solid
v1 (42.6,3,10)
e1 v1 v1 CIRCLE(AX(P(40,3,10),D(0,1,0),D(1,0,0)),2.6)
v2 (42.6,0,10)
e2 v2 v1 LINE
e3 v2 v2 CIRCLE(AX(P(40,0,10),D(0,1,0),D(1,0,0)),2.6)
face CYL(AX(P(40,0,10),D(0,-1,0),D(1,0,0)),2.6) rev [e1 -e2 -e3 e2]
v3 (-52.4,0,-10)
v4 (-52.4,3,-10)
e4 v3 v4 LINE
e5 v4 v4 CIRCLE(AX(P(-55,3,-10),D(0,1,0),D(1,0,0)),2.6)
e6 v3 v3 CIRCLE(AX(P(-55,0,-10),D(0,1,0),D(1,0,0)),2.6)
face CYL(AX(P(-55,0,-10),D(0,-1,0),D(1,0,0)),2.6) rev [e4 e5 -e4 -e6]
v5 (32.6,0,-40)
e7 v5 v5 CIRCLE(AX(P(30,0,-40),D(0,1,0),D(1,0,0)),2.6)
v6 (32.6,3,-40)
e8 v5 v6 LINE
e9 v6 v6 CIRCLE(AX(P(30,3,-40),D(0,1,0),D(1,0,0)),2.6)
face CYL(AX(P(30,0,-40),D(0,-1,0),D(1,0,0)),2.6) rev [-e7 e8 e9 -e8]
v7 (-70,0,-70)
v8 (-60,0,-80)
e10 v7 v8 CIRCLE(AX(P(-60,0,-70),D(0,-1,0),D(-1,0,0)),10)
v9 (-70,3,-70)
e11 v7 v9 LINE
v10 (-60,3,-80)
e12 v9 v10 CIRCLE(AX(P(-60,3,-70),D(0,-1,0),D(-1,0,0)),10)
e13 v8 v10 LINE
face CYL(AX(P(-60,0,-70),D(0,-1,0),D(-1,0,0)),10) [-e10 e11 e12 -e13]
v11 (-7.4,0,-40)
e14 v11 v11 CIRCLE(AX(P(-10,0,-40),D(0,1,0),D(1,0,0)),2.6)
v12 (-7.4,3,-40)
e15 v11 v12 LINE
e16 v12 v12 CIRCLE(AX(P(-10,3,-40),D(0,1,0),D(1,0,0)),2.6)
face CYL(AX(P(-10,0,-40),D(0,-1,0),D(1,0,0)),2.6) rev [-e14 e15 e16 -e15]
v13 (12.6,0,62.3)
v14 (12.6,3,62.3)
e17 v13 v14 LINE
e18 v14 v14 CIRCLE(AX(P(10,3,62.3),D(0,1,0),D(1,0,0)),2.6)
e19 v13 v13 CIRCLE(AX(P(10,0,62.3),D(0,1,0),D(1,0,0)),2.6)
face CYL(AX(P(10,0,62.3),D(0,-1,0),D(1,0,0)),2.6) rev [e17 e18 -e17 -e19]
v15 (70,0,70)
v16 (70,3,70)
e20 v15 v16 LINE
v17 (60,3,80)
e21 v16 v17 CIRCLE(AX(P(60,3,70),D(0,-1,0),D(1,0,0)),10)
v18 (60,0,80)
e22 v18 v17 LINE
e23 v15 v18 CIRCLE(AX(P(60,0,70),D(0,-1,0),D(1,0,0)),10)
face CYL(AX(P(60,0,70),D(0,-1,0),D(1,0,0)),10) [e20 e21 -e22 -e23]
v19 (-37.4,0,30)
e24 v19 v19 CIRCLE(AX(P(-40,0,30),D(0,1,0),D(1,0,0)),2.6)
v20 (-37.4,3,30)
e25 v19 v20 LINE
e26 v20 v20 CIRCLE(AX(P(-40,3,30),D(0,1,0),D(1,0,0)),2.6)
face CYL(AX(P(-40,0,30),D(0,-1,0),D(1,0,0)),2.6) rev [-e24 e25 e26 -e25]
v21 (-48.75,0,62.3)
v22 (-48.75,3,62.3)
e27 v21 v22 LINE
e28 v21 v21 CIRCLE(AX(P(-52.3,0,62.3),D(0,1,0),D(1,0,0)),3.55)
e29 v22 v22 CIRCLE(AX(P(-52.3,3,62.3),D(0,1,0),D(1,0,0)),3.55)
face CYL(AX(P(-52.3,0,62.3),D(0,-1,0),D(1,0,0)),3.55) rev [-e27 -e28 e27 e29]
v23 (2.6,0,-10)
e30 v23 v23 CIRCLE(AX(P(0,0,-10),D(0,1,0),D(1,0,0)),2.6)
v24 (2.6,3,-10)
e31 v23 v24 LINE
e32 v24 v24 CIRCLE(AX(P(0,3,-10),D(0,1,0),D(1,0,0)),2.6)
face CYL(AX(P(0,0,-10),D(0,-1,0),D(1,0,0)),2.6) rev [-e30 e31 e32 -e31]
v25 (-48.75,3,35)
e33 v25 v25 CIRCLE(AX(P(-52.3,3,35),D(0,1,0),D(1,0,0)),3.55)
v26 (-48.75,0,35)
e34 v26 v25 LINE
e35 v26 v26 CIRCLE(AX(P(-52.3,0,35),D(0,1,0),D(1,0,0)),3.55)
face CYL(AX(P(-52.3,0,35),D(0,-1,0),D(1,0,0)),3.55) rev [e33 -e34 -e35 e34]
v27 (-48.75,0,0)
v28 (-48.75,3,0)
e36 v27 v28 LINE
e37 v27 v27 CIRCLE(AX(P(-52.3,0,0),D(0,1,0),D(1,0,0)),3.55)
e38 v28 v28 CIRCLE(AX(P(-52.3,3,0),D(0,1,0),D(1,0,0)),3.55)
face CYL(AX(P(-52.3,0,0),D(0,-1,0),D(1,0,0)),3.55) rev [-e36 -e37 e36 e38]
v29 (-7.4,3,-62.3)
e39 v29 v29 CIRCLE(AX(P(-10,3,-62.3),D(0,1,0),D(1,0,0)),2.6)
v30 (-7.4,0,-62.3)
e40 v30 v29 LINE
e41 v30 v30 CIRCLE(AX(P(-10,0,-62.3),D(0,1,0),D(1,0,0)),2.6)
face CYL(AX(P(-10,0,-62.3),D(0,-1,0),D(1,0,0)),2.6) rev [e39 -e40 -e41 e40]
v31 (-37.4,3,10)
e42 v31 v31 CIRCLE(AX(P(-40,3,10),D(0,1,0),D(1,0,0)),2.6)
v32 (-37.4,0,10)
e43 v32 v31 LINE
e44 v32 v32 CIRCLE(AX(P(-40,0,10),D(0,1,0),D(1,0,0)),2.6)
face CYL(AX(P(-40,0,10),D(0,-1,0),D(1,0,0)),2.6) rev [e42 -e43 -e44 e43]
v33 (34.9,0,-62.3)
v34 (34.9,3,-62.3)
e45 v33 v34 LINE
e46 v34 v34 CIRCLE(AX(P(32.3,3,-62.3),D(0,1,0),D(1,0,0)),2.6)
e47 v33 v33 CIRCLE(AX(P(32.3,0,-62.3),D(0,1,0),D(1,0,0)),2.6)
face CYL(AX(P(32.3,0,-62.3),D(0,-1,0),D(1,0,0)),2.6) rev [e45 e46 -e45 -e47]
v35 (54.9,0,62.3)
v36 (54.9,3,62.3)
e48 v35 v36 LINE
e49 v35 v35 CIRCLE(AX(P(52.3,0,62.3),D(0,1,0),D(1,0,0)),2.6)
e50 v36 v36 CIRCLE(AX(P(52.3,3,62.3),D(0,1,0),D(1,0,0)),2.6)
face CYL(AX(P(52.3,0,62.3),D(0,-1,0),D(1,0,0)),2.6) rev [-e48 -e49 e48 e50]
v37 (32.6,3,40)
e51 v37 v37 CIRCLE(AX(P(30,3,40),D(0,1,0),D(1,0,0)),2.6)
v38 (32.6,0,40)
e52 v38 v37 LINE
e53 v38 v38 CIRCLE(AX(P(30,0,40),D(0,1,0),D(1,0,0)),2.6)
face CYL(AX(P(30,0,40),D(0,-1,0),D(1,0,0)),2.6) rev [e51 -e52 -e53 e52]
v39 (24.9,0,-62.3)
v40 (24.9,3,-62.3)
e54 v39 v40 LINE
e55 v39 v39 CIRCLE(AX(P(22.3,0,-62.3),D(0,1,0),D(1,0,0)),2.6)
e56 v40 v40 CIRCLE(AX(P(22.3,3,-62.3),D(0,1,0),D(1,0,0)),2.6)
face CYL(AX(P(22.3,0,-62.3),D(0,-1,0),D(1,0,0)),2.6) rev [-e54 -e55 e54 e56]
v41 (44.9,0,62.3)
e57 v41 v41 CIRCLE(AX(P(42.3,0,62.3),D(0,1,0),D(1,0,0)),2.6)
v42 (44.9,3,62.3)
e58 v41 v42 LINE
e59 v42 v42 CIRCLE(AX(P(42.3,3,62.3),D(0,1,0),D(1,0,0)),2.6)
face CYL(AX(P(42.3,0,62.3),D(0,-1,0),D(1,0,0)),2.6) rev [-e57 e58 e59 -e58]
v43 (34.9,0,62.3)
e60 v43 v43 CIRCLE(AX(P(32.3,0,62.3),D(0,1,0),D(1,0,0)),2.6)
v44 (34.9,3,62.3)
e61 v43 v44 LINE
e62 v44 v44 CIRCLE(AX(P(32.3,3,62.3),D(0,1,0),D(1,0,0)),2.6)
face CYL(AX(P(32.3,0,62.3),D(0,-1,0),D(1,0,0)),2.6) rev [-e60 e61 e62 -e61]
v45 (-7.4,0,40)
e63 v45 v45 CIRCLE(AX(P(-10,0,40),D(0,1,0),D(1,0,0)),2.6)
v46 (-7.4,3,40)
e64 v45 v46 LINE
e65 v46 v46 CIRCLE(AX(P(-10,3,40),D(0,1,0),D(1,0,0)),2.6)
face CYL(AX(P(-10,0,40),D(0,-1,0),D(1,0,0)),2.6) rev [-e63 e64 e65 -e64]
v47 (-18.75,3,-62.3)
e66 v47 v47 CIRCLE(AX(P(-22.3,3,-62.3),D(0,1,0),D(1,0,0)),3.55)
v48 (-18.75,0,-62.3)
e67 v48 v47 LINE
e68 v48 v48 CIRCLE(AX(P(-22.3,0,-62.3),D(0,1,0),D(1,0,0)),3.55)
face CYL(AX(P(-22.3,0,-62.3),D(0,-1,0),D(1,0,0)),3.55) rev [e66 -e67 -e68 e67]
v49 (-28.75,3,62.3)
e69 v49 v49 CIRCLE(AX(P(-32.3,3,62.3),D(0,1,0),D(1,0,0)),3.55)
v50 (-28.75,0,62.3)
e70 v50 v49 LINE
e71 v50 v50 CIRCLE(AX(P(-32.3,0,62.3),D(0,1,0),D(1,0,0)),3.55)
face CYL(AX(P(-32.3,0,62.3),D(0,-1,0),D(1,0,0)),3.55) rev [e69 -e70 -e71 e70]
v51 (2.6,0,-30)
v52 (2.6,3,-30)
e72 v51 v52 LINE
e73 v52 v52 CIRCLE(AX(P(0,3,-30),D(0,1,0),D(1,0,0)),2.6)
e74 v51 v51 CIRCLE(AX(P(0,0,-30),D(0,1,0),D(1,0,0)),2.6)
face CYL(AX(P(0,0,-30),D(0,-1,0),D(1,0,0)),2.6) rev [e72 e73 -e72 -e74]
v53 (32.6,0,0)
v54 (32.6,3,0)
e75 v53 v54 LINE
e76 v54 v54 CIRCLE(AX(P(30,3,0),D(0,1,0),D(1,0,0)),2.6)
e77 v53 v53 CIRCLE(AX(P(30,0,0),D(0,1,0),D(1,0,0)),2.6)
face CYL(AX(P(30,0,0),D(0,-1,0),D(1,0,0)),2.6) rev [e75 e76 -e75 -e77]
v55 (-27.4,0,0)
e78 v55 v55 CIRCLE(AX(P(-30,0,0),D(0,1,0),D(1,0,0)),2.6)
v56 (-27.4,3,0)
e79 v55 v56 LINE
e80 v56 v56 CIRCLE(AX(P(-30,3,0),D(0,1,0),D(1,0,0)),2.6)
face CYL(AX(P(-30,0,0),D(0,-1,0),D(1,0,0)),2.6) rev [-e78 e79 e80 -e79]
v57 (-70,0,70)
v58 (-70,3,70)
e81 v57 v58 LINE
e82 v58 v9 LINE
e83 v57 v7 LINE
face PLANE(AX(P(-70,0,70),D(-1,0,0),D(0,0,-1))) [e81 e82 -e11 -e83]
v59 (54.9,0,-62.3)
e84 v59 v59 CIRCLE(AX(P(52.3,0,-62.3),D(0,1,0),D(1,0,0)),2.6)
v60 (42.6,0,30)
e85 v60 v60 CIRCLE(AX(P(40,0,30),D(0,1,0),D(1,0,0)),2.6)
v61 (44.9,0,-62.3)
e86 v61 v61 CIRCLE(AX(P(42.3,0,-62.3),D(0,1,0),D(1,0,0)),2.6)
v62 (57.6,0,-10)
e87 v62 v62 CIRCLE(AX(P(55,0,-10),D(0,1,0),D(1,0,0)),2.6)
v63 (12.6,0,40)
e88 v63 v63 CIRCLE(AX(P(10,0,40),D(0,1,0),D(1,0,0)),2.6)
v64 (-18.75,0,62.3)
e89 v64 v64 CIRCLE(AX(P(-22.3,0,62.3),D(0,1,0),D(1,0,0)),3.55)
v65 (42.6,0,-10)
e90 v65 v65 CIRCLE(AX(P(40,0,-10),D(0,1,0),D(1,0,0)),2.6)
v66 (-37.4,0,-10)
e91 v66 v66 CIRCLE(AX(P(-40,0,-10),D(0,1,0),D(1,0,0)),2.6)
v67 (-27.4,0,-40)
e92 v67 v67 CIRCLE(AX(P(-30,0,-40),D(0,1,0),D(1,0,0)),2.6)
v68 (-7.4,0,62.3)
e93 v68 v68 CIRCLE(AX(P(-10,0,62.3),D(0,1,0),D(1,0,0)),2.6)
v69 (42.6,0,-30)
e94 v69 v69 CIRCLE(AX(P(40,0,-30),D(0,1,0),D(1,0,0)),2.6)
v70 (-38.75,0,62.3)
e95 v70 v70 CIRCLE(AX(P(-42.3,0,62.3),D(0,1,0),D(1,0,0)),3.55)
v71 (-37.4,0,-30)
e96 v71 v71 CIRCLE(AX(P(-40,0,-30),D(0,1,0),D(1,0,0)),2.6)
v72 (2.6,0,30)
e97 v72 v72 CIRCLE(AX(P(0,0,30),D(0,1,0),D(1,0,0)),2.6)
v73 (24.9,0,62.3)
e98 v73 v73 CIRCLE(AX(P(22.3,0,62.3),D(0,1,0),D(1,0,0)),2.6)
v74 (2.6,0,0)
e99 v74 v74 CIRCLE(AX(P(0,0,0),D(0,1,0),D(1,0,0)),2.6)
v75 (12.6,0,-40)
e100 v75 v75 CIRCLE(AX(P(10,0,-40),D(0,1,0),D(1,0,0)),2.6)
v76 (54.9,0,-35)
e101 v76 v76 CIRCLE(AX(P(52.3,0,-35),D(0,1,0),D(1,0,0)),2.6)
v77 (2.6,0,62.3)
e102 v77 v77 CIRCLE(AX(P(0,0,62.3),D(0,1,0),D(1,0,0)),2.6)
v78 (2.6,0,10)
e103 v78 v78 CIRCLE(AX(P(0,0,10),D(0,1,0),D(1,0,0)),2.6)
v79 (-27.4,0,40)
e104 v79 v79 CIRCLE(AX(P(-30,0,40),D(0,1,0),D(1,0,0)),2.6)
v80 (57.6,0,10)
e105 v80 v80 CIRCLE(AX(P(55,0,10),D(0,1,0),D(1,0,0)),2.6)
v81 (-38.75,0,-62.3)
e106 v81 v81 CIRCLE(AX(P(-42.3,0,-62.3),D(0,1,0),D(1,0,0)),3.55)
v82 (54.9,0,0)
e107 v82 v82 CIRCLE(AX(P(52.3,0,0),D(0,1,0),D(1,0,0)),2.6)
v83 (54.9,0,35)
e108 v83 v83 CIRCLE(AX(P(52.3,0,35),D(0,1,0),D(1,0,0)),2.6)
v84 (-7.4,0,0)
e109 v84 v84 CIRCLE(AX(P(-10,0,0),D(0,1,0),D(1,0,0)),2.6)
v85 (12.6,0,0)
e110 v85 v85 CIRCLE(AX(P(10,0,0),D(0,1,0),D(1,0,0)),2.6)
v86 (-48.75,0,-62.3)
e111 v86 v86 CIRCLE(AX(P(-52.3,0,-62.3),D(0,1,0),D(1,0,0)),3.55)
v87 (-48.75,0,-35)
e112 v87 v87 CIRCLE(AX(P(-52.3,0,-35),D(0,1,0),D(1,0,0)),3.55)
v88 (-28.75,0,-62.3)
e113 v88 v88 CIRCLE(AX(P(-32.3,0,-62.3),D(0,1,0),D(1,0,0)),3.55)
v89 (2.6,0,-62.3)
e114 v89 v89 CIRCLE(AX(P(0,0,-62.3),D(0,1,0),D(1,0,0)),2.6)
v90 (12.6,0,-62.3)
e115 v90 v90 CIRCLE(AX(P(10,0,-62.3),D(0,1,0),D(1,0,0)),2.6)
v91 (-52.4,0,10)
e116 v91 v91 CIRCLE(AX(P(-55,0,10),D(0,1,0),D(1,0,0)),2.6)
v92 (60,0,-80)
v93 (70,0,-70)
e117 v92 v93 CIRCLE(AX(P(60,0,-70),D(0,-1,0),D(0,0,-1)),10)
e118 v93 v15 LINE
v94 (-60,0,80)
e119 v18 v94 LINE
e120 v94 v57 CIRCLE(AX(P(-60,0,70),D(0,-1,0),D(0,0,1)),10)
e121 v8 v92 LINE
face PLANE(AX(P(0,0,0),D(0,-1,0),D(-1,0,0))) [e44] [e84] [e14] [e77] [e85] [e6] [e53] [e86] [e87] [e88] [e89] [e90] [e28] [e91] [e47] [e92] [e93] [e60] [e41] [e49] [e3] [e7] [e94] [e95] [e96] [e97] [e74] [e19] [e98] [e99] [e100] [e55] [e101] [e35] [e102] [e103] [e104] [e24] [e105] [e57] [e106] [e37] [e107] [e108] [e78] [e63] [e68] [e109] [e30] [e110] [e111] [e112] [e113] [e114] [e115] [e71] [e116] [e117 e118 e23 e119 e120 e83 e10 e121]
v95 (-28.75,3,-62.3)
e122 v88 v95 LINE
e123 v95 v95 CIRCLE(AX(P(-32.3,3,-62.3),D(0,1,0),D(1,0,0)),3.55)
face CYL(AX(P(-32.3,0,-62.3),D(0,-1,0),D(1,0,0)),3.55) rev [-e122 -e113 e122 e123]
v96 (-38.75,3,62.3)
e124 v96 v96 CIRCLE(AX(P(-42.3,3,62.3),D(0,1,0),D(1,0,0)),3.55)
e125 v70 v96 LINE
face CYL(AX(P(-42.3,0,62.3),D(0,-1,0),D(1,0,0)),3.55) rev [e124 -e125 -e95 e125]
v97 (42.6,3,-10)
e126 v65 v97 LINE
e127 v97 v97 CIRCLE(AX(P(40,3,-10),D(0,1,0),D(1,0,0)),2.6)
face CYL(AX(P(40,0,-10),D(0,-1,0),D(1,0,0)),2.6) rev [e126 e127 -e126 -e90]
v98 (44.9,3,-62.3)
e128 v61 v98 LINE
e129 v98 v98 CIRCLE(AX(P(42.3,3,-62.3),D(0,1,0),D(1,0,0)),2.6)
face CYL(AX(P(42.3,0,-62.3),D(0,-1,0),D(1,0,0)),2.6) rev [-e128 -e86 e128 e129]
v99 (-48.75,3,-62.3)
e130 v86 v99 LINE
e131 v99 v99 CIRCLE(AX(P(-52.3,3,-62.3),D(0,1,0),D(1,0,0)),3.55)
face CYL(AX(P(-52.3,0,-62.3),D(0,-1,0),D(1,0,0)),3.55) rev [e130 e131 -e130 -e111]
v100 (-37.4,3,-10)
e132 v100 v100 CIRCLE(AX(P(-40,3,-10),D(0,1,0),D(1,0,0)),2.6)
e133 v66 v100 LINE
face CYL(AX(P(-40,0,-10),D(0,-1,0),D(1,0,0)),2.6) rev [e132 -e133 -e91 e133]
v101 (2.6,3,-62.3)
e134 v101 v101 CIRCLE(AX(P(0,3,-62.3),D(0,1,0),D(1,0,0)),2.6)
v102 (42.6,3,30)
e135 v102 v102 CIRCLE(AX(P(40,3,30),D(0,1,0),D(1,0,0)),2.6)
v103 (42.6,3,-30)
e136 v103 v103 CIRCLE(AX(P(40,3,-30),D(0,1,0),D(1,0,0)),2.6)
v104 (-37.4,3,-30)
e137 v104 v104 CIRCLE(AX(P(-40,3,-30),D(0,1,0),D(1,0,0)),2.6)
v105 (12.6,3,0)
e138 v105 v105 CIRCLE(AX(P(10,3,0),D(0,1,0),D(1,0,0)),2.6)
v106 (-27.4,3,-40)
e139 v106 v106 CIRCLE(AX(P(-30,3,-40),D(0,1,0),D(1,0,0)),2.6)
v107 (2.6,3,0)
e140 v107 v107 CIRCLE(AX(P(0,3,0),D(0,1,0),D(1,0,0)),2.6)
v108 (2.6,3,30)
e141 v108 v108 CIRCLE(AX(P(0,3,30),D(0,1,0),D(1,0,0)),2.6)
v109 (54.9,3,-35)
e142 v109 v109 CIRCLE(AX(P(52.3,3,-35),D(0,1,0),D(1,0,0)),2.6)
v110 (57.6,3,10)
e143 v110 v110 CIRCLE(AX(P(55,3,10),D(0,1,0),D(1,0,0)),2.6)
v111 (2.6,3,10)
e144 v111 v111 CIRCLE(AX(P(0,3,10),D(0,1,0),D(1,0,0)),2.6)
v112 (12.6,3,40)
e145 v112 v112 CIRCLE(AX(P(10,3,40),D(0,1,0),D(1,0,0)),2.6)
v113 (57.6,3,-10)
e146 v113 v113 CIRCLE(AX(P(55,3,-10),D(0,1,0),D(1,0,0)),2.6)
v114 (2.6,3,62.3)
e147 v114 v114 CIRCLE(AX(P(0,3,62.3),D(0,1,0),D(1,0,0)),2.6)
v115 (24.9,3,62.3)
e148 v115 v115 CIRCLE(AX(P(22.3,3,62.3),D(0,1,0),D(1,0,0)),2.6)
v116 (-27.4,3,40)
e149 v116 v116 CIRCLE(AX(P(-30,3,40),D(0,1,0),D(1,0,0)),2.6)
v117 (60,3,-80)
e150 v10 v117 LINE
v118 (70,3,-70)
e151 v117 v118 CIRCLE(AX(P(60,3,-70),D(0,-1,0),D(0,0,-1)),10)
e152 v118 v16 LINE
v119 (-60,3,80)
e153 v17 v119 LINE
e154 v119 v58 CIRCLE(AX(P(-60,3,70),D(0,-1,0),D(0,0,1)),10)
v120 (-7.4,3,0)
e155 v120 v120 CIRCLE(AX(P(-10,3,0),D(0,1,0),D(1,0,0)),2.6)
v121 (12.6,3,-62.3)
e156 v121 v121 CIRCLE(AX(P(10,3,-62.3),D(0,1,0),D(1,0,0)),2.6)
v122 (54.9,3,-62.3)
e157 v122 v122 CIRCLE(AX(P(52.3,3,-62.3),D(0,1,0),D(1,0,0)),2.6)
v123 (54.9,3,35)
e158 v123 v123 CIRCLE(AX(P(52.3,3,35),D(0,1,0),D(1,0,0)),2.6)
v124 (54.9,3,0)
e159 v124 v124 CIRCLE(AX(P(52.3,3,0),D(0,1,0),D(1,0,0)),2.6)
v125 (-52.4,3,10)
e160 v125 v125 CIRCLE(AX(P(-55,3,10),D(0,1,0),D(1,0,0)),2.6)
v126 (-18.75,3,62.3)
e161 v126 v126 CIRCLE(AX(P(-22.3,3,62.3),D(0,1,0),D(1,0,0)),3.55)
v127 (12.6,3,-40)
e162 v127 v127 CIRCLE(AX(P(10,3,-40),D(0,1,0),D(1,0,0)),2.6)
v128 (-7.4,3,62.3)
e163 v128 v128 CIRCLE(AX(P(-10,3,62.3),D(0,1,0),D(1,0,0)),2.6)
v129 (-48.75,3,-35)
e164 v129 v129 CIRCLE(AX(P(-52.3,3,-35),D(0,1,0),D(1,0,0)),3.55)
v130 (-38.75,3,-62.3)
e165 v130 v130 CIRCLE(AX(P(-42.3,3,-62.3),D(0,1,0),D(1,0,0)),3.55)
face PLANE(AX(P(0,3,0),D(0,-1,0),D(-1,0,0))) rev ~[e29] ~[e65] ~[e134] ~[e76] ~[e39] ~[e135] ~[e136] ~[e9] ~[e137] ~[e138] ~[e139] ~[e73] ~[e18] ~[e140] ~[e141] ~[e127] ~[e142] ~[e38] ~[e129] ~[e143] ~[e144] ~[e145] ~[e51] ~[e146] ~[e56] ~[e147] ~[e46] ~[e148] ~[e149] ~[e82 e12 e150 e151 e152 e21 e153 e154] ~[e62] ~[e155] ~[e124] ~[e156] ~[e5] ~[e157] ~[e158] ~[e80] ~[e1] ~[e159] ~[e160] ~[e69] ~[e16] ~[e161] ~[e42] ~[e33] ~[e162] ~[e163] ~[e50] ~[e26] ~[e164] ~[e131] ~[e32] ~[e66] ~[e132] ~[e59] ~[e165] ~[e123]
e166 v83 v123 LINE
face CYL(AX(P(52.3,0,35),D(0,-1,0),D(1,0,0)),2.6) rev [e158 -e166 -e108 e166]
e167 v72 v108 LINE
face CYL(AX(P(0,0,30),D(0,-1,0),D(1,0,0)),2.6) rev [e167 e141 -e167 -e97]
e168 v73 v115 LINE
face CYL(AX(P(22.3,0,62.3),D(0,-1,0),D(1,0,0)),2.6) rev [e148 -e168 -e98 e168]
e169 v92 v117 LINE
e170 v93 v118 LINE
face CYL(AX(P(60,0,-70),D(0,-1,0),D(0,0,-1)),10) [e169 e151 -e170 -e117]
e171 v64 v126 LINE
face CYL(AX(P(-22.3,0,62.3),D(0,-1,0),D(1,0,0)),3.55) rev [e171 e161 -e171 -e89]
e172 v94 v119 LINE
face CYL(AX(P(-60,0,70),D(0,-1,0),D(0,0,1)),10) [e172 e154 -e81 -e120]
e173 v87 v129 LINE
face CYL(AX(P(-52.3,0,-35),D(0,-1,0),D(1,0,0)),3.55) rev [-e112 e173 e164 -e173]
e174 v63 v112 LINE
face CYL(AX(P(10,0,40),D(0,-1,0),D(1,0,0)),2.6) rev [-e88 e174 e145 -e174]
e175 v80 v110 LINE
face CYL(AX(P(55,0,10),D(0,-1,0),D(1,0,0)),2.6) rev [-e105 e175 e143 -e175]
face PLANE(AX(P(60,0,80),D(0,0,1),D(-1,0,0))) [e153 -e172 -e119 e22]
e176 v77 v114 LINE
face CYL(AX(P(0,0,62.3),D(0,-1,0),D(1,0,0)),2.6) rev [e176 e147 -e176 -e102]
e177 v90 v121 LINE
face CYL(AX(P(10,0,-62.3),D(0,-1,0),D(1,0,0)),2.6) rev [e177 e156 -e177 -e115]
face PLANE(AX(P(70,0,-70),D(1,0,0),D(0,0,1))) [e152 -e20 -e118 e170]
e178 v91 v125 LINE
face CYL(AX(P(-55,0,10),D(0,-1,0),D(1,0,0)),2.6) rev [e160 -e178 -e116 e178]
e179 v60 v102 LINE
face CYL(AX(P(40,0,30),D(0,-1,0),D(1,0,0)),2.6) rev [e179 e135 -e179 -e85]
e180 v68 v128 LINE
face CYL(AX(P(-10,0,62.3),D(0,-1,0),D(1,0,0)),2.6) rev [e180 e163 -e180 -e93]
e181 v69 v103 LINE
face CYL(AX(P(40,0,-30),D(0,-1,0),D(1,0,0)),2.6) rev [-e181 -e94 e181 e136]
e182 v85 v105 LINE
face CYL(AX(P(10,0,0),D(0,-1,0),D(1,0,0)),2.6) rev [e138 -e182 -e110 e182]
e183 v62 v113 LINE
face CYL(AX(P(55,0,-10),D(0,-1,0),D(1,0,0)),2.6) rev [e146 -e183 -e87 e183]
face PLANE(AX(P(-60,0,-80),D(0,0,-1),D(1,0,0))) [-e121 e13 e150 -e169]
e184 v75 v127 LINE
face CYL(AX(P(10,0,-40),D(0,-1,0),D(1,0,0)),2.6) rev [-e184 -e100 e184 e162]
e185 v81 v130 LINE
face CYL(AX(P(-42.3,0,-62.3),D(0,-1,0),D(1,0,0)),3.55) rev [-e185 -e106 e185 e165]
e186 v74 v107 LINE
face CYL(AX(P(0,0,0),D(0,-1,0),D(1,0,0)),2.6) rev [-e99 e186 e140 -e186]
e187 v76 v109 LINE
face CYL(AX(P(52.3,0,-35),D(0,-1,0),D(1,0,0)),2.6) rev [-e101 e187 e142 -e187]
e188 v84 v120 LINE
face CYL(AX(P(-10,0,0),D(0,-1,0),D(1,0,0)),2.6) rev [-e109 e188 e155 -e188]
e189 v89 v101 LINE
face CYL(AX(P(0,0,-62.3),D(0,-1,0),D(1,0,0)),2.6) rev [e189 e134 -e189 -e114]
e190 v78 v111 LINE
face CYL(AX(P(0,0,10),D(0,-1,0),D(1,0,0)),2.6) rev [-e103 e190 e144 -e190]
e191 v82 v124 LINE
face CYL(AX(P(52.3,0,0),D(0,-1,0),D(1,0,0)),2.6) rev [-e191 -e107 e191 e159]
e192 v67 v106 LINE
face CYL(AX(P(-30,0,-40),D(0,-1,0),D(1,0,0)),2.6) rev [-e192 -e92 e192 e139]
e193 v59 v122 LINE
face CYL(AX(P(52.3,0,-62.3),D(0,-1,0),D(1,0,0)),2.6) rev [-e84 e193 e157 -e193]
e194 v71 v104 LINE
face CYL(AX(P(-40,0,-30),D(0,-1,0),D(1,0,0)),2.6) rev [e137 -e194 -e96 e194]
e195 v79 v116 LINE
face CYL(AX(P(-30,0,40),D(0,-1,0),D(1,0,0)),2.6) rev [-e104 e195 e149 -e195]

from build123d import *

# Parameters (mm, degrees)
SKETCH1_R           = 3.55
SKETCH1_R_2         = 2.6
BOSS_EXTRUDE1_DEPTH = 3


with BuildPart() as part:
    # Sketch1 → Boss-Extrude1 (new body)
    with BuildSketch(Plane(origin=(0, 0, 0), x_dir=(1, 0, 0), z_dir=(0, 1, 0))):
        with BuildLine():
            Line((60, -80), (-60, -80))
            ThreePointArc((-60, -80), (-67.071067812, -77.071067812), (-70, -70))
            Line((-70, -70), (-70, 70))
            ThreePointArc((-70, 70), (-67.071067812, 77.071067812), (-60, 80))
            Line((-60, 80), (60, 80))
            ThreePointArc((60, 80), (67.071067812, 77.071067812), (70, 70))
            Line((70, 70), (70, -70))
            ThreePointArc((70, -70), (67.071067812, -77.071067812), (60, -80))
        make_face()
        with Locations((-42.3, 62.3)):
            Circle(SKETCH1_R, mode=Mode.SUBTRACT)
        with Locations((0, 10)):
            Circle(SKETCH1_R_2, mode=Mode.SUBTRACT)
        Circle(SKETCH1_R_2, mode=Mode.SUBTRACT)
        with Locations((10, 0)):
            Circle(SKETCH1_R_2, mode=Mode.SUBTRACT)
        with Locations((-10, 0)):
            Circle(SKETCH1_R_2, mode=Mode.SUBTRACT)
        with Locations((-52.3, 62.3)):
            Circle(SKETCH1_R, mode=Mode.SUBTRACT)
        with Locations((-52.3, 0)):
            Circle(SKETCH1_R, mode=Mode.SUBTRACT)
        with Locations((-52.3, -62.3)):
            Circle(SKETCH1_R, mode=Mode.SUBTRACT)
        with Locations((-40, 30)):
            Circle(SKETCH1_R_2, mode=Mode.SUBTRACT)
        with Locations((-40, 10)):
            Circle(SKETCH1_R_2, mode=Mode.SUBTRACT)
        with Locations((-30, 40)):
            Circle(SKETCH1_R_2, mode=Mode.SUBTRACT)
        with Locations((0, 30)):
            Circle(SKETCH1_R_2, mode=Mode.SUBTRACT)
        with Locations((-10, 62.3)):
            Circle(SKETCH1_R_2, mode=Mode.SUBTRACT)
        with Locations((0, 62.3)):
            Circle(SKETCH1_R_2, mode=Mode.SUBTRACT)
        with Locations((10, 62.3)):
            Circle(SKETCH1_R_2, mode=Mode.SUBTRACT)
        with Locations((-10, 40)):
            Circle(SKETCH1_R_2, mode=Mode.SUBTRACT)
        with Locations((30, 40)):
            Circle(SKETCH1_R_2, mode=Mode.SUBTRACT)
        with Locations((40, 30)):
            Circle(SKETCH1_R_2, mode=Mode.SUBTRACT)
        with Locations((40, 10)):
            Circle(SKETCH1_R_2, mode=Mode.SUBTRACT)
        with Locations((42.3, 62.3)):
            Circle(SKETCH1_R_2, mode=Mode.SUBTRACT)
        with Locations((52.3, 62.3)):
            Circle(SKETCH1_R_2, mode=Mode.SUBTRACT)
        with Locations((52.3, 0)):
            Circle(SKETCH1_R_2, mode=Mode.SUBTRACT)
        with Locations((40, -10)):
            Circle(SKETCH1_R_2, mode=Mode.SUBTRACT)
        with Locations((52.3, -62.3)):
            Circle(SKETCH1_R_2, mode=Mode.SUBTRACT)
        with Locations((42.3, -62.3)):
            Circle(SKETCH1_R_2, mode=Mode.SUBTRACT)
        with Locations((40, -30)):
            Circle(SKETCH1_R_2, mode=Mode.SUBTRACT)
        with Locations((0, -10)):
            Circle(SKETCH1_R_2, mode=Mode.SUBTRACT)
        with Locations((30, -40)):
            Circle(SKETCH1_R_2, mode=Mode.SUBTRACT)
        with Locations((10, 40)):
            Circle(SKETCH1_R_2, mode=Mode.SUBTRACT)
        with Locations((10, -62.3)):
            Circle(SKETCH1_R_2, mode=Mode.SUBTRACT)
        with Locations((0, -62.3)):
            Circle(SKETCH1_R_2, mode=Mode.SUBTRACT)
        with Locations((-10, -62.3)):
            Circle(SKETCH1_R_2, mode=Mode.SUBTRACT)
        with Locations((30, 0)):
            Circle(SKETCH1_R_2, mode=Mode.SUBTRACT)
        with Locations((-30, -40)):
            Circle(SKETCH1_R_2, mode=Mode.SUBTRACT)
        with Locations((-40, -30)):
            Circle(SKETCH1_R_2, mode=Mode.SUBTRACT)
        with Locations((-40, -10)):
            Circle(SKETCH1_R_2, mode=Mode.SUBTRACT)
        with Locations((-42.3, -62.3)):
            Circle(SKETCH1_R, mode=Mode.SUBTRACT)
        with Locations((-32.3, 62.3)):
            Circle(SKETCH1_R, mode=Mode.SUBTRACT)
        with Locations((32.3, 62.3)):
            Circle(SKETCH1_R_2, mode=Mode.SUBTRACT)
        with Locations((22.3, -62.3)):
            Circle(SKETCH1_R_2, mode=Mode.SUBTRACT)
        with Locations((-30, 0)):
            Circle(SKETCH1_R_2, mode=Mode.SUBTRACT)
        with Locations((-52.3, 35)):
            Circle(SKETCH1_R, mode=Mode.SUBTRACT)
        with Locations((32.3, -62.3)):
            Circle(SKETCH1_R_2, mode=Mode.SUBTRACT)
        with Locations((-32.3, -62.3)):
            Circle(SKETCH1_R, mode=Mode.SUBTRACT)
        with Locations((-52.3, -35)):
            Circle(SKETCH1_R, mode=Mode.SUBTRACT)
        with Locations((52.3, 35)):
            Circle(SKETCH1_R_2, mode=Mode.SUBTRACT)
        with Locations((52.3, -35)):
            Circle(SKETCH1_R_2, mode=Mode.SUBTRACT)
        with Locations((-22.3, 62.3)):
            Circle(SKETCH1_R, mode=Mode.SUBTRACT)
        with Locations((22.3, 62.3)):
            Circle(SKETCH1_R_2, mode=Mode.SUBTRACT)
        with Locations((-22.3, -62.3)):
            Circle(SKETCH1_R, mode=Mode.SUBTRACT)
        with Locations((10, -40)):
            Circle(SKETCH1_R_2, mode=Mode.SUBTRACT)
        with Locations((-10, -40)):
            Circle(SKETCH1_R_2, mode=Mode.SUBTRACT)
        with Locations((0, -30)):
            Circle(SKETCH1_R_2, mode=Mode.SUBTRACT)
        with Locations((-55, 10)):
            Circle(SKETCH1_R_2, mode=Mode.SUBTRACT)
        with Locations((55, 10)):
            Circle(SKETCH1_R_2, mode=Mode.SUBTRACT)
        with Locations((55, -10)):
            Circle(SKETCH1_R_2, mode=Mode.SUBTRACT)
        with Locations((-55, -10)):
            Circle(SKETCH1_R_2, mode=Mode.SUBTRACT)
    extrude(amount=BOSS_EXTRUDE1_DEPTH)


solid = part.part
